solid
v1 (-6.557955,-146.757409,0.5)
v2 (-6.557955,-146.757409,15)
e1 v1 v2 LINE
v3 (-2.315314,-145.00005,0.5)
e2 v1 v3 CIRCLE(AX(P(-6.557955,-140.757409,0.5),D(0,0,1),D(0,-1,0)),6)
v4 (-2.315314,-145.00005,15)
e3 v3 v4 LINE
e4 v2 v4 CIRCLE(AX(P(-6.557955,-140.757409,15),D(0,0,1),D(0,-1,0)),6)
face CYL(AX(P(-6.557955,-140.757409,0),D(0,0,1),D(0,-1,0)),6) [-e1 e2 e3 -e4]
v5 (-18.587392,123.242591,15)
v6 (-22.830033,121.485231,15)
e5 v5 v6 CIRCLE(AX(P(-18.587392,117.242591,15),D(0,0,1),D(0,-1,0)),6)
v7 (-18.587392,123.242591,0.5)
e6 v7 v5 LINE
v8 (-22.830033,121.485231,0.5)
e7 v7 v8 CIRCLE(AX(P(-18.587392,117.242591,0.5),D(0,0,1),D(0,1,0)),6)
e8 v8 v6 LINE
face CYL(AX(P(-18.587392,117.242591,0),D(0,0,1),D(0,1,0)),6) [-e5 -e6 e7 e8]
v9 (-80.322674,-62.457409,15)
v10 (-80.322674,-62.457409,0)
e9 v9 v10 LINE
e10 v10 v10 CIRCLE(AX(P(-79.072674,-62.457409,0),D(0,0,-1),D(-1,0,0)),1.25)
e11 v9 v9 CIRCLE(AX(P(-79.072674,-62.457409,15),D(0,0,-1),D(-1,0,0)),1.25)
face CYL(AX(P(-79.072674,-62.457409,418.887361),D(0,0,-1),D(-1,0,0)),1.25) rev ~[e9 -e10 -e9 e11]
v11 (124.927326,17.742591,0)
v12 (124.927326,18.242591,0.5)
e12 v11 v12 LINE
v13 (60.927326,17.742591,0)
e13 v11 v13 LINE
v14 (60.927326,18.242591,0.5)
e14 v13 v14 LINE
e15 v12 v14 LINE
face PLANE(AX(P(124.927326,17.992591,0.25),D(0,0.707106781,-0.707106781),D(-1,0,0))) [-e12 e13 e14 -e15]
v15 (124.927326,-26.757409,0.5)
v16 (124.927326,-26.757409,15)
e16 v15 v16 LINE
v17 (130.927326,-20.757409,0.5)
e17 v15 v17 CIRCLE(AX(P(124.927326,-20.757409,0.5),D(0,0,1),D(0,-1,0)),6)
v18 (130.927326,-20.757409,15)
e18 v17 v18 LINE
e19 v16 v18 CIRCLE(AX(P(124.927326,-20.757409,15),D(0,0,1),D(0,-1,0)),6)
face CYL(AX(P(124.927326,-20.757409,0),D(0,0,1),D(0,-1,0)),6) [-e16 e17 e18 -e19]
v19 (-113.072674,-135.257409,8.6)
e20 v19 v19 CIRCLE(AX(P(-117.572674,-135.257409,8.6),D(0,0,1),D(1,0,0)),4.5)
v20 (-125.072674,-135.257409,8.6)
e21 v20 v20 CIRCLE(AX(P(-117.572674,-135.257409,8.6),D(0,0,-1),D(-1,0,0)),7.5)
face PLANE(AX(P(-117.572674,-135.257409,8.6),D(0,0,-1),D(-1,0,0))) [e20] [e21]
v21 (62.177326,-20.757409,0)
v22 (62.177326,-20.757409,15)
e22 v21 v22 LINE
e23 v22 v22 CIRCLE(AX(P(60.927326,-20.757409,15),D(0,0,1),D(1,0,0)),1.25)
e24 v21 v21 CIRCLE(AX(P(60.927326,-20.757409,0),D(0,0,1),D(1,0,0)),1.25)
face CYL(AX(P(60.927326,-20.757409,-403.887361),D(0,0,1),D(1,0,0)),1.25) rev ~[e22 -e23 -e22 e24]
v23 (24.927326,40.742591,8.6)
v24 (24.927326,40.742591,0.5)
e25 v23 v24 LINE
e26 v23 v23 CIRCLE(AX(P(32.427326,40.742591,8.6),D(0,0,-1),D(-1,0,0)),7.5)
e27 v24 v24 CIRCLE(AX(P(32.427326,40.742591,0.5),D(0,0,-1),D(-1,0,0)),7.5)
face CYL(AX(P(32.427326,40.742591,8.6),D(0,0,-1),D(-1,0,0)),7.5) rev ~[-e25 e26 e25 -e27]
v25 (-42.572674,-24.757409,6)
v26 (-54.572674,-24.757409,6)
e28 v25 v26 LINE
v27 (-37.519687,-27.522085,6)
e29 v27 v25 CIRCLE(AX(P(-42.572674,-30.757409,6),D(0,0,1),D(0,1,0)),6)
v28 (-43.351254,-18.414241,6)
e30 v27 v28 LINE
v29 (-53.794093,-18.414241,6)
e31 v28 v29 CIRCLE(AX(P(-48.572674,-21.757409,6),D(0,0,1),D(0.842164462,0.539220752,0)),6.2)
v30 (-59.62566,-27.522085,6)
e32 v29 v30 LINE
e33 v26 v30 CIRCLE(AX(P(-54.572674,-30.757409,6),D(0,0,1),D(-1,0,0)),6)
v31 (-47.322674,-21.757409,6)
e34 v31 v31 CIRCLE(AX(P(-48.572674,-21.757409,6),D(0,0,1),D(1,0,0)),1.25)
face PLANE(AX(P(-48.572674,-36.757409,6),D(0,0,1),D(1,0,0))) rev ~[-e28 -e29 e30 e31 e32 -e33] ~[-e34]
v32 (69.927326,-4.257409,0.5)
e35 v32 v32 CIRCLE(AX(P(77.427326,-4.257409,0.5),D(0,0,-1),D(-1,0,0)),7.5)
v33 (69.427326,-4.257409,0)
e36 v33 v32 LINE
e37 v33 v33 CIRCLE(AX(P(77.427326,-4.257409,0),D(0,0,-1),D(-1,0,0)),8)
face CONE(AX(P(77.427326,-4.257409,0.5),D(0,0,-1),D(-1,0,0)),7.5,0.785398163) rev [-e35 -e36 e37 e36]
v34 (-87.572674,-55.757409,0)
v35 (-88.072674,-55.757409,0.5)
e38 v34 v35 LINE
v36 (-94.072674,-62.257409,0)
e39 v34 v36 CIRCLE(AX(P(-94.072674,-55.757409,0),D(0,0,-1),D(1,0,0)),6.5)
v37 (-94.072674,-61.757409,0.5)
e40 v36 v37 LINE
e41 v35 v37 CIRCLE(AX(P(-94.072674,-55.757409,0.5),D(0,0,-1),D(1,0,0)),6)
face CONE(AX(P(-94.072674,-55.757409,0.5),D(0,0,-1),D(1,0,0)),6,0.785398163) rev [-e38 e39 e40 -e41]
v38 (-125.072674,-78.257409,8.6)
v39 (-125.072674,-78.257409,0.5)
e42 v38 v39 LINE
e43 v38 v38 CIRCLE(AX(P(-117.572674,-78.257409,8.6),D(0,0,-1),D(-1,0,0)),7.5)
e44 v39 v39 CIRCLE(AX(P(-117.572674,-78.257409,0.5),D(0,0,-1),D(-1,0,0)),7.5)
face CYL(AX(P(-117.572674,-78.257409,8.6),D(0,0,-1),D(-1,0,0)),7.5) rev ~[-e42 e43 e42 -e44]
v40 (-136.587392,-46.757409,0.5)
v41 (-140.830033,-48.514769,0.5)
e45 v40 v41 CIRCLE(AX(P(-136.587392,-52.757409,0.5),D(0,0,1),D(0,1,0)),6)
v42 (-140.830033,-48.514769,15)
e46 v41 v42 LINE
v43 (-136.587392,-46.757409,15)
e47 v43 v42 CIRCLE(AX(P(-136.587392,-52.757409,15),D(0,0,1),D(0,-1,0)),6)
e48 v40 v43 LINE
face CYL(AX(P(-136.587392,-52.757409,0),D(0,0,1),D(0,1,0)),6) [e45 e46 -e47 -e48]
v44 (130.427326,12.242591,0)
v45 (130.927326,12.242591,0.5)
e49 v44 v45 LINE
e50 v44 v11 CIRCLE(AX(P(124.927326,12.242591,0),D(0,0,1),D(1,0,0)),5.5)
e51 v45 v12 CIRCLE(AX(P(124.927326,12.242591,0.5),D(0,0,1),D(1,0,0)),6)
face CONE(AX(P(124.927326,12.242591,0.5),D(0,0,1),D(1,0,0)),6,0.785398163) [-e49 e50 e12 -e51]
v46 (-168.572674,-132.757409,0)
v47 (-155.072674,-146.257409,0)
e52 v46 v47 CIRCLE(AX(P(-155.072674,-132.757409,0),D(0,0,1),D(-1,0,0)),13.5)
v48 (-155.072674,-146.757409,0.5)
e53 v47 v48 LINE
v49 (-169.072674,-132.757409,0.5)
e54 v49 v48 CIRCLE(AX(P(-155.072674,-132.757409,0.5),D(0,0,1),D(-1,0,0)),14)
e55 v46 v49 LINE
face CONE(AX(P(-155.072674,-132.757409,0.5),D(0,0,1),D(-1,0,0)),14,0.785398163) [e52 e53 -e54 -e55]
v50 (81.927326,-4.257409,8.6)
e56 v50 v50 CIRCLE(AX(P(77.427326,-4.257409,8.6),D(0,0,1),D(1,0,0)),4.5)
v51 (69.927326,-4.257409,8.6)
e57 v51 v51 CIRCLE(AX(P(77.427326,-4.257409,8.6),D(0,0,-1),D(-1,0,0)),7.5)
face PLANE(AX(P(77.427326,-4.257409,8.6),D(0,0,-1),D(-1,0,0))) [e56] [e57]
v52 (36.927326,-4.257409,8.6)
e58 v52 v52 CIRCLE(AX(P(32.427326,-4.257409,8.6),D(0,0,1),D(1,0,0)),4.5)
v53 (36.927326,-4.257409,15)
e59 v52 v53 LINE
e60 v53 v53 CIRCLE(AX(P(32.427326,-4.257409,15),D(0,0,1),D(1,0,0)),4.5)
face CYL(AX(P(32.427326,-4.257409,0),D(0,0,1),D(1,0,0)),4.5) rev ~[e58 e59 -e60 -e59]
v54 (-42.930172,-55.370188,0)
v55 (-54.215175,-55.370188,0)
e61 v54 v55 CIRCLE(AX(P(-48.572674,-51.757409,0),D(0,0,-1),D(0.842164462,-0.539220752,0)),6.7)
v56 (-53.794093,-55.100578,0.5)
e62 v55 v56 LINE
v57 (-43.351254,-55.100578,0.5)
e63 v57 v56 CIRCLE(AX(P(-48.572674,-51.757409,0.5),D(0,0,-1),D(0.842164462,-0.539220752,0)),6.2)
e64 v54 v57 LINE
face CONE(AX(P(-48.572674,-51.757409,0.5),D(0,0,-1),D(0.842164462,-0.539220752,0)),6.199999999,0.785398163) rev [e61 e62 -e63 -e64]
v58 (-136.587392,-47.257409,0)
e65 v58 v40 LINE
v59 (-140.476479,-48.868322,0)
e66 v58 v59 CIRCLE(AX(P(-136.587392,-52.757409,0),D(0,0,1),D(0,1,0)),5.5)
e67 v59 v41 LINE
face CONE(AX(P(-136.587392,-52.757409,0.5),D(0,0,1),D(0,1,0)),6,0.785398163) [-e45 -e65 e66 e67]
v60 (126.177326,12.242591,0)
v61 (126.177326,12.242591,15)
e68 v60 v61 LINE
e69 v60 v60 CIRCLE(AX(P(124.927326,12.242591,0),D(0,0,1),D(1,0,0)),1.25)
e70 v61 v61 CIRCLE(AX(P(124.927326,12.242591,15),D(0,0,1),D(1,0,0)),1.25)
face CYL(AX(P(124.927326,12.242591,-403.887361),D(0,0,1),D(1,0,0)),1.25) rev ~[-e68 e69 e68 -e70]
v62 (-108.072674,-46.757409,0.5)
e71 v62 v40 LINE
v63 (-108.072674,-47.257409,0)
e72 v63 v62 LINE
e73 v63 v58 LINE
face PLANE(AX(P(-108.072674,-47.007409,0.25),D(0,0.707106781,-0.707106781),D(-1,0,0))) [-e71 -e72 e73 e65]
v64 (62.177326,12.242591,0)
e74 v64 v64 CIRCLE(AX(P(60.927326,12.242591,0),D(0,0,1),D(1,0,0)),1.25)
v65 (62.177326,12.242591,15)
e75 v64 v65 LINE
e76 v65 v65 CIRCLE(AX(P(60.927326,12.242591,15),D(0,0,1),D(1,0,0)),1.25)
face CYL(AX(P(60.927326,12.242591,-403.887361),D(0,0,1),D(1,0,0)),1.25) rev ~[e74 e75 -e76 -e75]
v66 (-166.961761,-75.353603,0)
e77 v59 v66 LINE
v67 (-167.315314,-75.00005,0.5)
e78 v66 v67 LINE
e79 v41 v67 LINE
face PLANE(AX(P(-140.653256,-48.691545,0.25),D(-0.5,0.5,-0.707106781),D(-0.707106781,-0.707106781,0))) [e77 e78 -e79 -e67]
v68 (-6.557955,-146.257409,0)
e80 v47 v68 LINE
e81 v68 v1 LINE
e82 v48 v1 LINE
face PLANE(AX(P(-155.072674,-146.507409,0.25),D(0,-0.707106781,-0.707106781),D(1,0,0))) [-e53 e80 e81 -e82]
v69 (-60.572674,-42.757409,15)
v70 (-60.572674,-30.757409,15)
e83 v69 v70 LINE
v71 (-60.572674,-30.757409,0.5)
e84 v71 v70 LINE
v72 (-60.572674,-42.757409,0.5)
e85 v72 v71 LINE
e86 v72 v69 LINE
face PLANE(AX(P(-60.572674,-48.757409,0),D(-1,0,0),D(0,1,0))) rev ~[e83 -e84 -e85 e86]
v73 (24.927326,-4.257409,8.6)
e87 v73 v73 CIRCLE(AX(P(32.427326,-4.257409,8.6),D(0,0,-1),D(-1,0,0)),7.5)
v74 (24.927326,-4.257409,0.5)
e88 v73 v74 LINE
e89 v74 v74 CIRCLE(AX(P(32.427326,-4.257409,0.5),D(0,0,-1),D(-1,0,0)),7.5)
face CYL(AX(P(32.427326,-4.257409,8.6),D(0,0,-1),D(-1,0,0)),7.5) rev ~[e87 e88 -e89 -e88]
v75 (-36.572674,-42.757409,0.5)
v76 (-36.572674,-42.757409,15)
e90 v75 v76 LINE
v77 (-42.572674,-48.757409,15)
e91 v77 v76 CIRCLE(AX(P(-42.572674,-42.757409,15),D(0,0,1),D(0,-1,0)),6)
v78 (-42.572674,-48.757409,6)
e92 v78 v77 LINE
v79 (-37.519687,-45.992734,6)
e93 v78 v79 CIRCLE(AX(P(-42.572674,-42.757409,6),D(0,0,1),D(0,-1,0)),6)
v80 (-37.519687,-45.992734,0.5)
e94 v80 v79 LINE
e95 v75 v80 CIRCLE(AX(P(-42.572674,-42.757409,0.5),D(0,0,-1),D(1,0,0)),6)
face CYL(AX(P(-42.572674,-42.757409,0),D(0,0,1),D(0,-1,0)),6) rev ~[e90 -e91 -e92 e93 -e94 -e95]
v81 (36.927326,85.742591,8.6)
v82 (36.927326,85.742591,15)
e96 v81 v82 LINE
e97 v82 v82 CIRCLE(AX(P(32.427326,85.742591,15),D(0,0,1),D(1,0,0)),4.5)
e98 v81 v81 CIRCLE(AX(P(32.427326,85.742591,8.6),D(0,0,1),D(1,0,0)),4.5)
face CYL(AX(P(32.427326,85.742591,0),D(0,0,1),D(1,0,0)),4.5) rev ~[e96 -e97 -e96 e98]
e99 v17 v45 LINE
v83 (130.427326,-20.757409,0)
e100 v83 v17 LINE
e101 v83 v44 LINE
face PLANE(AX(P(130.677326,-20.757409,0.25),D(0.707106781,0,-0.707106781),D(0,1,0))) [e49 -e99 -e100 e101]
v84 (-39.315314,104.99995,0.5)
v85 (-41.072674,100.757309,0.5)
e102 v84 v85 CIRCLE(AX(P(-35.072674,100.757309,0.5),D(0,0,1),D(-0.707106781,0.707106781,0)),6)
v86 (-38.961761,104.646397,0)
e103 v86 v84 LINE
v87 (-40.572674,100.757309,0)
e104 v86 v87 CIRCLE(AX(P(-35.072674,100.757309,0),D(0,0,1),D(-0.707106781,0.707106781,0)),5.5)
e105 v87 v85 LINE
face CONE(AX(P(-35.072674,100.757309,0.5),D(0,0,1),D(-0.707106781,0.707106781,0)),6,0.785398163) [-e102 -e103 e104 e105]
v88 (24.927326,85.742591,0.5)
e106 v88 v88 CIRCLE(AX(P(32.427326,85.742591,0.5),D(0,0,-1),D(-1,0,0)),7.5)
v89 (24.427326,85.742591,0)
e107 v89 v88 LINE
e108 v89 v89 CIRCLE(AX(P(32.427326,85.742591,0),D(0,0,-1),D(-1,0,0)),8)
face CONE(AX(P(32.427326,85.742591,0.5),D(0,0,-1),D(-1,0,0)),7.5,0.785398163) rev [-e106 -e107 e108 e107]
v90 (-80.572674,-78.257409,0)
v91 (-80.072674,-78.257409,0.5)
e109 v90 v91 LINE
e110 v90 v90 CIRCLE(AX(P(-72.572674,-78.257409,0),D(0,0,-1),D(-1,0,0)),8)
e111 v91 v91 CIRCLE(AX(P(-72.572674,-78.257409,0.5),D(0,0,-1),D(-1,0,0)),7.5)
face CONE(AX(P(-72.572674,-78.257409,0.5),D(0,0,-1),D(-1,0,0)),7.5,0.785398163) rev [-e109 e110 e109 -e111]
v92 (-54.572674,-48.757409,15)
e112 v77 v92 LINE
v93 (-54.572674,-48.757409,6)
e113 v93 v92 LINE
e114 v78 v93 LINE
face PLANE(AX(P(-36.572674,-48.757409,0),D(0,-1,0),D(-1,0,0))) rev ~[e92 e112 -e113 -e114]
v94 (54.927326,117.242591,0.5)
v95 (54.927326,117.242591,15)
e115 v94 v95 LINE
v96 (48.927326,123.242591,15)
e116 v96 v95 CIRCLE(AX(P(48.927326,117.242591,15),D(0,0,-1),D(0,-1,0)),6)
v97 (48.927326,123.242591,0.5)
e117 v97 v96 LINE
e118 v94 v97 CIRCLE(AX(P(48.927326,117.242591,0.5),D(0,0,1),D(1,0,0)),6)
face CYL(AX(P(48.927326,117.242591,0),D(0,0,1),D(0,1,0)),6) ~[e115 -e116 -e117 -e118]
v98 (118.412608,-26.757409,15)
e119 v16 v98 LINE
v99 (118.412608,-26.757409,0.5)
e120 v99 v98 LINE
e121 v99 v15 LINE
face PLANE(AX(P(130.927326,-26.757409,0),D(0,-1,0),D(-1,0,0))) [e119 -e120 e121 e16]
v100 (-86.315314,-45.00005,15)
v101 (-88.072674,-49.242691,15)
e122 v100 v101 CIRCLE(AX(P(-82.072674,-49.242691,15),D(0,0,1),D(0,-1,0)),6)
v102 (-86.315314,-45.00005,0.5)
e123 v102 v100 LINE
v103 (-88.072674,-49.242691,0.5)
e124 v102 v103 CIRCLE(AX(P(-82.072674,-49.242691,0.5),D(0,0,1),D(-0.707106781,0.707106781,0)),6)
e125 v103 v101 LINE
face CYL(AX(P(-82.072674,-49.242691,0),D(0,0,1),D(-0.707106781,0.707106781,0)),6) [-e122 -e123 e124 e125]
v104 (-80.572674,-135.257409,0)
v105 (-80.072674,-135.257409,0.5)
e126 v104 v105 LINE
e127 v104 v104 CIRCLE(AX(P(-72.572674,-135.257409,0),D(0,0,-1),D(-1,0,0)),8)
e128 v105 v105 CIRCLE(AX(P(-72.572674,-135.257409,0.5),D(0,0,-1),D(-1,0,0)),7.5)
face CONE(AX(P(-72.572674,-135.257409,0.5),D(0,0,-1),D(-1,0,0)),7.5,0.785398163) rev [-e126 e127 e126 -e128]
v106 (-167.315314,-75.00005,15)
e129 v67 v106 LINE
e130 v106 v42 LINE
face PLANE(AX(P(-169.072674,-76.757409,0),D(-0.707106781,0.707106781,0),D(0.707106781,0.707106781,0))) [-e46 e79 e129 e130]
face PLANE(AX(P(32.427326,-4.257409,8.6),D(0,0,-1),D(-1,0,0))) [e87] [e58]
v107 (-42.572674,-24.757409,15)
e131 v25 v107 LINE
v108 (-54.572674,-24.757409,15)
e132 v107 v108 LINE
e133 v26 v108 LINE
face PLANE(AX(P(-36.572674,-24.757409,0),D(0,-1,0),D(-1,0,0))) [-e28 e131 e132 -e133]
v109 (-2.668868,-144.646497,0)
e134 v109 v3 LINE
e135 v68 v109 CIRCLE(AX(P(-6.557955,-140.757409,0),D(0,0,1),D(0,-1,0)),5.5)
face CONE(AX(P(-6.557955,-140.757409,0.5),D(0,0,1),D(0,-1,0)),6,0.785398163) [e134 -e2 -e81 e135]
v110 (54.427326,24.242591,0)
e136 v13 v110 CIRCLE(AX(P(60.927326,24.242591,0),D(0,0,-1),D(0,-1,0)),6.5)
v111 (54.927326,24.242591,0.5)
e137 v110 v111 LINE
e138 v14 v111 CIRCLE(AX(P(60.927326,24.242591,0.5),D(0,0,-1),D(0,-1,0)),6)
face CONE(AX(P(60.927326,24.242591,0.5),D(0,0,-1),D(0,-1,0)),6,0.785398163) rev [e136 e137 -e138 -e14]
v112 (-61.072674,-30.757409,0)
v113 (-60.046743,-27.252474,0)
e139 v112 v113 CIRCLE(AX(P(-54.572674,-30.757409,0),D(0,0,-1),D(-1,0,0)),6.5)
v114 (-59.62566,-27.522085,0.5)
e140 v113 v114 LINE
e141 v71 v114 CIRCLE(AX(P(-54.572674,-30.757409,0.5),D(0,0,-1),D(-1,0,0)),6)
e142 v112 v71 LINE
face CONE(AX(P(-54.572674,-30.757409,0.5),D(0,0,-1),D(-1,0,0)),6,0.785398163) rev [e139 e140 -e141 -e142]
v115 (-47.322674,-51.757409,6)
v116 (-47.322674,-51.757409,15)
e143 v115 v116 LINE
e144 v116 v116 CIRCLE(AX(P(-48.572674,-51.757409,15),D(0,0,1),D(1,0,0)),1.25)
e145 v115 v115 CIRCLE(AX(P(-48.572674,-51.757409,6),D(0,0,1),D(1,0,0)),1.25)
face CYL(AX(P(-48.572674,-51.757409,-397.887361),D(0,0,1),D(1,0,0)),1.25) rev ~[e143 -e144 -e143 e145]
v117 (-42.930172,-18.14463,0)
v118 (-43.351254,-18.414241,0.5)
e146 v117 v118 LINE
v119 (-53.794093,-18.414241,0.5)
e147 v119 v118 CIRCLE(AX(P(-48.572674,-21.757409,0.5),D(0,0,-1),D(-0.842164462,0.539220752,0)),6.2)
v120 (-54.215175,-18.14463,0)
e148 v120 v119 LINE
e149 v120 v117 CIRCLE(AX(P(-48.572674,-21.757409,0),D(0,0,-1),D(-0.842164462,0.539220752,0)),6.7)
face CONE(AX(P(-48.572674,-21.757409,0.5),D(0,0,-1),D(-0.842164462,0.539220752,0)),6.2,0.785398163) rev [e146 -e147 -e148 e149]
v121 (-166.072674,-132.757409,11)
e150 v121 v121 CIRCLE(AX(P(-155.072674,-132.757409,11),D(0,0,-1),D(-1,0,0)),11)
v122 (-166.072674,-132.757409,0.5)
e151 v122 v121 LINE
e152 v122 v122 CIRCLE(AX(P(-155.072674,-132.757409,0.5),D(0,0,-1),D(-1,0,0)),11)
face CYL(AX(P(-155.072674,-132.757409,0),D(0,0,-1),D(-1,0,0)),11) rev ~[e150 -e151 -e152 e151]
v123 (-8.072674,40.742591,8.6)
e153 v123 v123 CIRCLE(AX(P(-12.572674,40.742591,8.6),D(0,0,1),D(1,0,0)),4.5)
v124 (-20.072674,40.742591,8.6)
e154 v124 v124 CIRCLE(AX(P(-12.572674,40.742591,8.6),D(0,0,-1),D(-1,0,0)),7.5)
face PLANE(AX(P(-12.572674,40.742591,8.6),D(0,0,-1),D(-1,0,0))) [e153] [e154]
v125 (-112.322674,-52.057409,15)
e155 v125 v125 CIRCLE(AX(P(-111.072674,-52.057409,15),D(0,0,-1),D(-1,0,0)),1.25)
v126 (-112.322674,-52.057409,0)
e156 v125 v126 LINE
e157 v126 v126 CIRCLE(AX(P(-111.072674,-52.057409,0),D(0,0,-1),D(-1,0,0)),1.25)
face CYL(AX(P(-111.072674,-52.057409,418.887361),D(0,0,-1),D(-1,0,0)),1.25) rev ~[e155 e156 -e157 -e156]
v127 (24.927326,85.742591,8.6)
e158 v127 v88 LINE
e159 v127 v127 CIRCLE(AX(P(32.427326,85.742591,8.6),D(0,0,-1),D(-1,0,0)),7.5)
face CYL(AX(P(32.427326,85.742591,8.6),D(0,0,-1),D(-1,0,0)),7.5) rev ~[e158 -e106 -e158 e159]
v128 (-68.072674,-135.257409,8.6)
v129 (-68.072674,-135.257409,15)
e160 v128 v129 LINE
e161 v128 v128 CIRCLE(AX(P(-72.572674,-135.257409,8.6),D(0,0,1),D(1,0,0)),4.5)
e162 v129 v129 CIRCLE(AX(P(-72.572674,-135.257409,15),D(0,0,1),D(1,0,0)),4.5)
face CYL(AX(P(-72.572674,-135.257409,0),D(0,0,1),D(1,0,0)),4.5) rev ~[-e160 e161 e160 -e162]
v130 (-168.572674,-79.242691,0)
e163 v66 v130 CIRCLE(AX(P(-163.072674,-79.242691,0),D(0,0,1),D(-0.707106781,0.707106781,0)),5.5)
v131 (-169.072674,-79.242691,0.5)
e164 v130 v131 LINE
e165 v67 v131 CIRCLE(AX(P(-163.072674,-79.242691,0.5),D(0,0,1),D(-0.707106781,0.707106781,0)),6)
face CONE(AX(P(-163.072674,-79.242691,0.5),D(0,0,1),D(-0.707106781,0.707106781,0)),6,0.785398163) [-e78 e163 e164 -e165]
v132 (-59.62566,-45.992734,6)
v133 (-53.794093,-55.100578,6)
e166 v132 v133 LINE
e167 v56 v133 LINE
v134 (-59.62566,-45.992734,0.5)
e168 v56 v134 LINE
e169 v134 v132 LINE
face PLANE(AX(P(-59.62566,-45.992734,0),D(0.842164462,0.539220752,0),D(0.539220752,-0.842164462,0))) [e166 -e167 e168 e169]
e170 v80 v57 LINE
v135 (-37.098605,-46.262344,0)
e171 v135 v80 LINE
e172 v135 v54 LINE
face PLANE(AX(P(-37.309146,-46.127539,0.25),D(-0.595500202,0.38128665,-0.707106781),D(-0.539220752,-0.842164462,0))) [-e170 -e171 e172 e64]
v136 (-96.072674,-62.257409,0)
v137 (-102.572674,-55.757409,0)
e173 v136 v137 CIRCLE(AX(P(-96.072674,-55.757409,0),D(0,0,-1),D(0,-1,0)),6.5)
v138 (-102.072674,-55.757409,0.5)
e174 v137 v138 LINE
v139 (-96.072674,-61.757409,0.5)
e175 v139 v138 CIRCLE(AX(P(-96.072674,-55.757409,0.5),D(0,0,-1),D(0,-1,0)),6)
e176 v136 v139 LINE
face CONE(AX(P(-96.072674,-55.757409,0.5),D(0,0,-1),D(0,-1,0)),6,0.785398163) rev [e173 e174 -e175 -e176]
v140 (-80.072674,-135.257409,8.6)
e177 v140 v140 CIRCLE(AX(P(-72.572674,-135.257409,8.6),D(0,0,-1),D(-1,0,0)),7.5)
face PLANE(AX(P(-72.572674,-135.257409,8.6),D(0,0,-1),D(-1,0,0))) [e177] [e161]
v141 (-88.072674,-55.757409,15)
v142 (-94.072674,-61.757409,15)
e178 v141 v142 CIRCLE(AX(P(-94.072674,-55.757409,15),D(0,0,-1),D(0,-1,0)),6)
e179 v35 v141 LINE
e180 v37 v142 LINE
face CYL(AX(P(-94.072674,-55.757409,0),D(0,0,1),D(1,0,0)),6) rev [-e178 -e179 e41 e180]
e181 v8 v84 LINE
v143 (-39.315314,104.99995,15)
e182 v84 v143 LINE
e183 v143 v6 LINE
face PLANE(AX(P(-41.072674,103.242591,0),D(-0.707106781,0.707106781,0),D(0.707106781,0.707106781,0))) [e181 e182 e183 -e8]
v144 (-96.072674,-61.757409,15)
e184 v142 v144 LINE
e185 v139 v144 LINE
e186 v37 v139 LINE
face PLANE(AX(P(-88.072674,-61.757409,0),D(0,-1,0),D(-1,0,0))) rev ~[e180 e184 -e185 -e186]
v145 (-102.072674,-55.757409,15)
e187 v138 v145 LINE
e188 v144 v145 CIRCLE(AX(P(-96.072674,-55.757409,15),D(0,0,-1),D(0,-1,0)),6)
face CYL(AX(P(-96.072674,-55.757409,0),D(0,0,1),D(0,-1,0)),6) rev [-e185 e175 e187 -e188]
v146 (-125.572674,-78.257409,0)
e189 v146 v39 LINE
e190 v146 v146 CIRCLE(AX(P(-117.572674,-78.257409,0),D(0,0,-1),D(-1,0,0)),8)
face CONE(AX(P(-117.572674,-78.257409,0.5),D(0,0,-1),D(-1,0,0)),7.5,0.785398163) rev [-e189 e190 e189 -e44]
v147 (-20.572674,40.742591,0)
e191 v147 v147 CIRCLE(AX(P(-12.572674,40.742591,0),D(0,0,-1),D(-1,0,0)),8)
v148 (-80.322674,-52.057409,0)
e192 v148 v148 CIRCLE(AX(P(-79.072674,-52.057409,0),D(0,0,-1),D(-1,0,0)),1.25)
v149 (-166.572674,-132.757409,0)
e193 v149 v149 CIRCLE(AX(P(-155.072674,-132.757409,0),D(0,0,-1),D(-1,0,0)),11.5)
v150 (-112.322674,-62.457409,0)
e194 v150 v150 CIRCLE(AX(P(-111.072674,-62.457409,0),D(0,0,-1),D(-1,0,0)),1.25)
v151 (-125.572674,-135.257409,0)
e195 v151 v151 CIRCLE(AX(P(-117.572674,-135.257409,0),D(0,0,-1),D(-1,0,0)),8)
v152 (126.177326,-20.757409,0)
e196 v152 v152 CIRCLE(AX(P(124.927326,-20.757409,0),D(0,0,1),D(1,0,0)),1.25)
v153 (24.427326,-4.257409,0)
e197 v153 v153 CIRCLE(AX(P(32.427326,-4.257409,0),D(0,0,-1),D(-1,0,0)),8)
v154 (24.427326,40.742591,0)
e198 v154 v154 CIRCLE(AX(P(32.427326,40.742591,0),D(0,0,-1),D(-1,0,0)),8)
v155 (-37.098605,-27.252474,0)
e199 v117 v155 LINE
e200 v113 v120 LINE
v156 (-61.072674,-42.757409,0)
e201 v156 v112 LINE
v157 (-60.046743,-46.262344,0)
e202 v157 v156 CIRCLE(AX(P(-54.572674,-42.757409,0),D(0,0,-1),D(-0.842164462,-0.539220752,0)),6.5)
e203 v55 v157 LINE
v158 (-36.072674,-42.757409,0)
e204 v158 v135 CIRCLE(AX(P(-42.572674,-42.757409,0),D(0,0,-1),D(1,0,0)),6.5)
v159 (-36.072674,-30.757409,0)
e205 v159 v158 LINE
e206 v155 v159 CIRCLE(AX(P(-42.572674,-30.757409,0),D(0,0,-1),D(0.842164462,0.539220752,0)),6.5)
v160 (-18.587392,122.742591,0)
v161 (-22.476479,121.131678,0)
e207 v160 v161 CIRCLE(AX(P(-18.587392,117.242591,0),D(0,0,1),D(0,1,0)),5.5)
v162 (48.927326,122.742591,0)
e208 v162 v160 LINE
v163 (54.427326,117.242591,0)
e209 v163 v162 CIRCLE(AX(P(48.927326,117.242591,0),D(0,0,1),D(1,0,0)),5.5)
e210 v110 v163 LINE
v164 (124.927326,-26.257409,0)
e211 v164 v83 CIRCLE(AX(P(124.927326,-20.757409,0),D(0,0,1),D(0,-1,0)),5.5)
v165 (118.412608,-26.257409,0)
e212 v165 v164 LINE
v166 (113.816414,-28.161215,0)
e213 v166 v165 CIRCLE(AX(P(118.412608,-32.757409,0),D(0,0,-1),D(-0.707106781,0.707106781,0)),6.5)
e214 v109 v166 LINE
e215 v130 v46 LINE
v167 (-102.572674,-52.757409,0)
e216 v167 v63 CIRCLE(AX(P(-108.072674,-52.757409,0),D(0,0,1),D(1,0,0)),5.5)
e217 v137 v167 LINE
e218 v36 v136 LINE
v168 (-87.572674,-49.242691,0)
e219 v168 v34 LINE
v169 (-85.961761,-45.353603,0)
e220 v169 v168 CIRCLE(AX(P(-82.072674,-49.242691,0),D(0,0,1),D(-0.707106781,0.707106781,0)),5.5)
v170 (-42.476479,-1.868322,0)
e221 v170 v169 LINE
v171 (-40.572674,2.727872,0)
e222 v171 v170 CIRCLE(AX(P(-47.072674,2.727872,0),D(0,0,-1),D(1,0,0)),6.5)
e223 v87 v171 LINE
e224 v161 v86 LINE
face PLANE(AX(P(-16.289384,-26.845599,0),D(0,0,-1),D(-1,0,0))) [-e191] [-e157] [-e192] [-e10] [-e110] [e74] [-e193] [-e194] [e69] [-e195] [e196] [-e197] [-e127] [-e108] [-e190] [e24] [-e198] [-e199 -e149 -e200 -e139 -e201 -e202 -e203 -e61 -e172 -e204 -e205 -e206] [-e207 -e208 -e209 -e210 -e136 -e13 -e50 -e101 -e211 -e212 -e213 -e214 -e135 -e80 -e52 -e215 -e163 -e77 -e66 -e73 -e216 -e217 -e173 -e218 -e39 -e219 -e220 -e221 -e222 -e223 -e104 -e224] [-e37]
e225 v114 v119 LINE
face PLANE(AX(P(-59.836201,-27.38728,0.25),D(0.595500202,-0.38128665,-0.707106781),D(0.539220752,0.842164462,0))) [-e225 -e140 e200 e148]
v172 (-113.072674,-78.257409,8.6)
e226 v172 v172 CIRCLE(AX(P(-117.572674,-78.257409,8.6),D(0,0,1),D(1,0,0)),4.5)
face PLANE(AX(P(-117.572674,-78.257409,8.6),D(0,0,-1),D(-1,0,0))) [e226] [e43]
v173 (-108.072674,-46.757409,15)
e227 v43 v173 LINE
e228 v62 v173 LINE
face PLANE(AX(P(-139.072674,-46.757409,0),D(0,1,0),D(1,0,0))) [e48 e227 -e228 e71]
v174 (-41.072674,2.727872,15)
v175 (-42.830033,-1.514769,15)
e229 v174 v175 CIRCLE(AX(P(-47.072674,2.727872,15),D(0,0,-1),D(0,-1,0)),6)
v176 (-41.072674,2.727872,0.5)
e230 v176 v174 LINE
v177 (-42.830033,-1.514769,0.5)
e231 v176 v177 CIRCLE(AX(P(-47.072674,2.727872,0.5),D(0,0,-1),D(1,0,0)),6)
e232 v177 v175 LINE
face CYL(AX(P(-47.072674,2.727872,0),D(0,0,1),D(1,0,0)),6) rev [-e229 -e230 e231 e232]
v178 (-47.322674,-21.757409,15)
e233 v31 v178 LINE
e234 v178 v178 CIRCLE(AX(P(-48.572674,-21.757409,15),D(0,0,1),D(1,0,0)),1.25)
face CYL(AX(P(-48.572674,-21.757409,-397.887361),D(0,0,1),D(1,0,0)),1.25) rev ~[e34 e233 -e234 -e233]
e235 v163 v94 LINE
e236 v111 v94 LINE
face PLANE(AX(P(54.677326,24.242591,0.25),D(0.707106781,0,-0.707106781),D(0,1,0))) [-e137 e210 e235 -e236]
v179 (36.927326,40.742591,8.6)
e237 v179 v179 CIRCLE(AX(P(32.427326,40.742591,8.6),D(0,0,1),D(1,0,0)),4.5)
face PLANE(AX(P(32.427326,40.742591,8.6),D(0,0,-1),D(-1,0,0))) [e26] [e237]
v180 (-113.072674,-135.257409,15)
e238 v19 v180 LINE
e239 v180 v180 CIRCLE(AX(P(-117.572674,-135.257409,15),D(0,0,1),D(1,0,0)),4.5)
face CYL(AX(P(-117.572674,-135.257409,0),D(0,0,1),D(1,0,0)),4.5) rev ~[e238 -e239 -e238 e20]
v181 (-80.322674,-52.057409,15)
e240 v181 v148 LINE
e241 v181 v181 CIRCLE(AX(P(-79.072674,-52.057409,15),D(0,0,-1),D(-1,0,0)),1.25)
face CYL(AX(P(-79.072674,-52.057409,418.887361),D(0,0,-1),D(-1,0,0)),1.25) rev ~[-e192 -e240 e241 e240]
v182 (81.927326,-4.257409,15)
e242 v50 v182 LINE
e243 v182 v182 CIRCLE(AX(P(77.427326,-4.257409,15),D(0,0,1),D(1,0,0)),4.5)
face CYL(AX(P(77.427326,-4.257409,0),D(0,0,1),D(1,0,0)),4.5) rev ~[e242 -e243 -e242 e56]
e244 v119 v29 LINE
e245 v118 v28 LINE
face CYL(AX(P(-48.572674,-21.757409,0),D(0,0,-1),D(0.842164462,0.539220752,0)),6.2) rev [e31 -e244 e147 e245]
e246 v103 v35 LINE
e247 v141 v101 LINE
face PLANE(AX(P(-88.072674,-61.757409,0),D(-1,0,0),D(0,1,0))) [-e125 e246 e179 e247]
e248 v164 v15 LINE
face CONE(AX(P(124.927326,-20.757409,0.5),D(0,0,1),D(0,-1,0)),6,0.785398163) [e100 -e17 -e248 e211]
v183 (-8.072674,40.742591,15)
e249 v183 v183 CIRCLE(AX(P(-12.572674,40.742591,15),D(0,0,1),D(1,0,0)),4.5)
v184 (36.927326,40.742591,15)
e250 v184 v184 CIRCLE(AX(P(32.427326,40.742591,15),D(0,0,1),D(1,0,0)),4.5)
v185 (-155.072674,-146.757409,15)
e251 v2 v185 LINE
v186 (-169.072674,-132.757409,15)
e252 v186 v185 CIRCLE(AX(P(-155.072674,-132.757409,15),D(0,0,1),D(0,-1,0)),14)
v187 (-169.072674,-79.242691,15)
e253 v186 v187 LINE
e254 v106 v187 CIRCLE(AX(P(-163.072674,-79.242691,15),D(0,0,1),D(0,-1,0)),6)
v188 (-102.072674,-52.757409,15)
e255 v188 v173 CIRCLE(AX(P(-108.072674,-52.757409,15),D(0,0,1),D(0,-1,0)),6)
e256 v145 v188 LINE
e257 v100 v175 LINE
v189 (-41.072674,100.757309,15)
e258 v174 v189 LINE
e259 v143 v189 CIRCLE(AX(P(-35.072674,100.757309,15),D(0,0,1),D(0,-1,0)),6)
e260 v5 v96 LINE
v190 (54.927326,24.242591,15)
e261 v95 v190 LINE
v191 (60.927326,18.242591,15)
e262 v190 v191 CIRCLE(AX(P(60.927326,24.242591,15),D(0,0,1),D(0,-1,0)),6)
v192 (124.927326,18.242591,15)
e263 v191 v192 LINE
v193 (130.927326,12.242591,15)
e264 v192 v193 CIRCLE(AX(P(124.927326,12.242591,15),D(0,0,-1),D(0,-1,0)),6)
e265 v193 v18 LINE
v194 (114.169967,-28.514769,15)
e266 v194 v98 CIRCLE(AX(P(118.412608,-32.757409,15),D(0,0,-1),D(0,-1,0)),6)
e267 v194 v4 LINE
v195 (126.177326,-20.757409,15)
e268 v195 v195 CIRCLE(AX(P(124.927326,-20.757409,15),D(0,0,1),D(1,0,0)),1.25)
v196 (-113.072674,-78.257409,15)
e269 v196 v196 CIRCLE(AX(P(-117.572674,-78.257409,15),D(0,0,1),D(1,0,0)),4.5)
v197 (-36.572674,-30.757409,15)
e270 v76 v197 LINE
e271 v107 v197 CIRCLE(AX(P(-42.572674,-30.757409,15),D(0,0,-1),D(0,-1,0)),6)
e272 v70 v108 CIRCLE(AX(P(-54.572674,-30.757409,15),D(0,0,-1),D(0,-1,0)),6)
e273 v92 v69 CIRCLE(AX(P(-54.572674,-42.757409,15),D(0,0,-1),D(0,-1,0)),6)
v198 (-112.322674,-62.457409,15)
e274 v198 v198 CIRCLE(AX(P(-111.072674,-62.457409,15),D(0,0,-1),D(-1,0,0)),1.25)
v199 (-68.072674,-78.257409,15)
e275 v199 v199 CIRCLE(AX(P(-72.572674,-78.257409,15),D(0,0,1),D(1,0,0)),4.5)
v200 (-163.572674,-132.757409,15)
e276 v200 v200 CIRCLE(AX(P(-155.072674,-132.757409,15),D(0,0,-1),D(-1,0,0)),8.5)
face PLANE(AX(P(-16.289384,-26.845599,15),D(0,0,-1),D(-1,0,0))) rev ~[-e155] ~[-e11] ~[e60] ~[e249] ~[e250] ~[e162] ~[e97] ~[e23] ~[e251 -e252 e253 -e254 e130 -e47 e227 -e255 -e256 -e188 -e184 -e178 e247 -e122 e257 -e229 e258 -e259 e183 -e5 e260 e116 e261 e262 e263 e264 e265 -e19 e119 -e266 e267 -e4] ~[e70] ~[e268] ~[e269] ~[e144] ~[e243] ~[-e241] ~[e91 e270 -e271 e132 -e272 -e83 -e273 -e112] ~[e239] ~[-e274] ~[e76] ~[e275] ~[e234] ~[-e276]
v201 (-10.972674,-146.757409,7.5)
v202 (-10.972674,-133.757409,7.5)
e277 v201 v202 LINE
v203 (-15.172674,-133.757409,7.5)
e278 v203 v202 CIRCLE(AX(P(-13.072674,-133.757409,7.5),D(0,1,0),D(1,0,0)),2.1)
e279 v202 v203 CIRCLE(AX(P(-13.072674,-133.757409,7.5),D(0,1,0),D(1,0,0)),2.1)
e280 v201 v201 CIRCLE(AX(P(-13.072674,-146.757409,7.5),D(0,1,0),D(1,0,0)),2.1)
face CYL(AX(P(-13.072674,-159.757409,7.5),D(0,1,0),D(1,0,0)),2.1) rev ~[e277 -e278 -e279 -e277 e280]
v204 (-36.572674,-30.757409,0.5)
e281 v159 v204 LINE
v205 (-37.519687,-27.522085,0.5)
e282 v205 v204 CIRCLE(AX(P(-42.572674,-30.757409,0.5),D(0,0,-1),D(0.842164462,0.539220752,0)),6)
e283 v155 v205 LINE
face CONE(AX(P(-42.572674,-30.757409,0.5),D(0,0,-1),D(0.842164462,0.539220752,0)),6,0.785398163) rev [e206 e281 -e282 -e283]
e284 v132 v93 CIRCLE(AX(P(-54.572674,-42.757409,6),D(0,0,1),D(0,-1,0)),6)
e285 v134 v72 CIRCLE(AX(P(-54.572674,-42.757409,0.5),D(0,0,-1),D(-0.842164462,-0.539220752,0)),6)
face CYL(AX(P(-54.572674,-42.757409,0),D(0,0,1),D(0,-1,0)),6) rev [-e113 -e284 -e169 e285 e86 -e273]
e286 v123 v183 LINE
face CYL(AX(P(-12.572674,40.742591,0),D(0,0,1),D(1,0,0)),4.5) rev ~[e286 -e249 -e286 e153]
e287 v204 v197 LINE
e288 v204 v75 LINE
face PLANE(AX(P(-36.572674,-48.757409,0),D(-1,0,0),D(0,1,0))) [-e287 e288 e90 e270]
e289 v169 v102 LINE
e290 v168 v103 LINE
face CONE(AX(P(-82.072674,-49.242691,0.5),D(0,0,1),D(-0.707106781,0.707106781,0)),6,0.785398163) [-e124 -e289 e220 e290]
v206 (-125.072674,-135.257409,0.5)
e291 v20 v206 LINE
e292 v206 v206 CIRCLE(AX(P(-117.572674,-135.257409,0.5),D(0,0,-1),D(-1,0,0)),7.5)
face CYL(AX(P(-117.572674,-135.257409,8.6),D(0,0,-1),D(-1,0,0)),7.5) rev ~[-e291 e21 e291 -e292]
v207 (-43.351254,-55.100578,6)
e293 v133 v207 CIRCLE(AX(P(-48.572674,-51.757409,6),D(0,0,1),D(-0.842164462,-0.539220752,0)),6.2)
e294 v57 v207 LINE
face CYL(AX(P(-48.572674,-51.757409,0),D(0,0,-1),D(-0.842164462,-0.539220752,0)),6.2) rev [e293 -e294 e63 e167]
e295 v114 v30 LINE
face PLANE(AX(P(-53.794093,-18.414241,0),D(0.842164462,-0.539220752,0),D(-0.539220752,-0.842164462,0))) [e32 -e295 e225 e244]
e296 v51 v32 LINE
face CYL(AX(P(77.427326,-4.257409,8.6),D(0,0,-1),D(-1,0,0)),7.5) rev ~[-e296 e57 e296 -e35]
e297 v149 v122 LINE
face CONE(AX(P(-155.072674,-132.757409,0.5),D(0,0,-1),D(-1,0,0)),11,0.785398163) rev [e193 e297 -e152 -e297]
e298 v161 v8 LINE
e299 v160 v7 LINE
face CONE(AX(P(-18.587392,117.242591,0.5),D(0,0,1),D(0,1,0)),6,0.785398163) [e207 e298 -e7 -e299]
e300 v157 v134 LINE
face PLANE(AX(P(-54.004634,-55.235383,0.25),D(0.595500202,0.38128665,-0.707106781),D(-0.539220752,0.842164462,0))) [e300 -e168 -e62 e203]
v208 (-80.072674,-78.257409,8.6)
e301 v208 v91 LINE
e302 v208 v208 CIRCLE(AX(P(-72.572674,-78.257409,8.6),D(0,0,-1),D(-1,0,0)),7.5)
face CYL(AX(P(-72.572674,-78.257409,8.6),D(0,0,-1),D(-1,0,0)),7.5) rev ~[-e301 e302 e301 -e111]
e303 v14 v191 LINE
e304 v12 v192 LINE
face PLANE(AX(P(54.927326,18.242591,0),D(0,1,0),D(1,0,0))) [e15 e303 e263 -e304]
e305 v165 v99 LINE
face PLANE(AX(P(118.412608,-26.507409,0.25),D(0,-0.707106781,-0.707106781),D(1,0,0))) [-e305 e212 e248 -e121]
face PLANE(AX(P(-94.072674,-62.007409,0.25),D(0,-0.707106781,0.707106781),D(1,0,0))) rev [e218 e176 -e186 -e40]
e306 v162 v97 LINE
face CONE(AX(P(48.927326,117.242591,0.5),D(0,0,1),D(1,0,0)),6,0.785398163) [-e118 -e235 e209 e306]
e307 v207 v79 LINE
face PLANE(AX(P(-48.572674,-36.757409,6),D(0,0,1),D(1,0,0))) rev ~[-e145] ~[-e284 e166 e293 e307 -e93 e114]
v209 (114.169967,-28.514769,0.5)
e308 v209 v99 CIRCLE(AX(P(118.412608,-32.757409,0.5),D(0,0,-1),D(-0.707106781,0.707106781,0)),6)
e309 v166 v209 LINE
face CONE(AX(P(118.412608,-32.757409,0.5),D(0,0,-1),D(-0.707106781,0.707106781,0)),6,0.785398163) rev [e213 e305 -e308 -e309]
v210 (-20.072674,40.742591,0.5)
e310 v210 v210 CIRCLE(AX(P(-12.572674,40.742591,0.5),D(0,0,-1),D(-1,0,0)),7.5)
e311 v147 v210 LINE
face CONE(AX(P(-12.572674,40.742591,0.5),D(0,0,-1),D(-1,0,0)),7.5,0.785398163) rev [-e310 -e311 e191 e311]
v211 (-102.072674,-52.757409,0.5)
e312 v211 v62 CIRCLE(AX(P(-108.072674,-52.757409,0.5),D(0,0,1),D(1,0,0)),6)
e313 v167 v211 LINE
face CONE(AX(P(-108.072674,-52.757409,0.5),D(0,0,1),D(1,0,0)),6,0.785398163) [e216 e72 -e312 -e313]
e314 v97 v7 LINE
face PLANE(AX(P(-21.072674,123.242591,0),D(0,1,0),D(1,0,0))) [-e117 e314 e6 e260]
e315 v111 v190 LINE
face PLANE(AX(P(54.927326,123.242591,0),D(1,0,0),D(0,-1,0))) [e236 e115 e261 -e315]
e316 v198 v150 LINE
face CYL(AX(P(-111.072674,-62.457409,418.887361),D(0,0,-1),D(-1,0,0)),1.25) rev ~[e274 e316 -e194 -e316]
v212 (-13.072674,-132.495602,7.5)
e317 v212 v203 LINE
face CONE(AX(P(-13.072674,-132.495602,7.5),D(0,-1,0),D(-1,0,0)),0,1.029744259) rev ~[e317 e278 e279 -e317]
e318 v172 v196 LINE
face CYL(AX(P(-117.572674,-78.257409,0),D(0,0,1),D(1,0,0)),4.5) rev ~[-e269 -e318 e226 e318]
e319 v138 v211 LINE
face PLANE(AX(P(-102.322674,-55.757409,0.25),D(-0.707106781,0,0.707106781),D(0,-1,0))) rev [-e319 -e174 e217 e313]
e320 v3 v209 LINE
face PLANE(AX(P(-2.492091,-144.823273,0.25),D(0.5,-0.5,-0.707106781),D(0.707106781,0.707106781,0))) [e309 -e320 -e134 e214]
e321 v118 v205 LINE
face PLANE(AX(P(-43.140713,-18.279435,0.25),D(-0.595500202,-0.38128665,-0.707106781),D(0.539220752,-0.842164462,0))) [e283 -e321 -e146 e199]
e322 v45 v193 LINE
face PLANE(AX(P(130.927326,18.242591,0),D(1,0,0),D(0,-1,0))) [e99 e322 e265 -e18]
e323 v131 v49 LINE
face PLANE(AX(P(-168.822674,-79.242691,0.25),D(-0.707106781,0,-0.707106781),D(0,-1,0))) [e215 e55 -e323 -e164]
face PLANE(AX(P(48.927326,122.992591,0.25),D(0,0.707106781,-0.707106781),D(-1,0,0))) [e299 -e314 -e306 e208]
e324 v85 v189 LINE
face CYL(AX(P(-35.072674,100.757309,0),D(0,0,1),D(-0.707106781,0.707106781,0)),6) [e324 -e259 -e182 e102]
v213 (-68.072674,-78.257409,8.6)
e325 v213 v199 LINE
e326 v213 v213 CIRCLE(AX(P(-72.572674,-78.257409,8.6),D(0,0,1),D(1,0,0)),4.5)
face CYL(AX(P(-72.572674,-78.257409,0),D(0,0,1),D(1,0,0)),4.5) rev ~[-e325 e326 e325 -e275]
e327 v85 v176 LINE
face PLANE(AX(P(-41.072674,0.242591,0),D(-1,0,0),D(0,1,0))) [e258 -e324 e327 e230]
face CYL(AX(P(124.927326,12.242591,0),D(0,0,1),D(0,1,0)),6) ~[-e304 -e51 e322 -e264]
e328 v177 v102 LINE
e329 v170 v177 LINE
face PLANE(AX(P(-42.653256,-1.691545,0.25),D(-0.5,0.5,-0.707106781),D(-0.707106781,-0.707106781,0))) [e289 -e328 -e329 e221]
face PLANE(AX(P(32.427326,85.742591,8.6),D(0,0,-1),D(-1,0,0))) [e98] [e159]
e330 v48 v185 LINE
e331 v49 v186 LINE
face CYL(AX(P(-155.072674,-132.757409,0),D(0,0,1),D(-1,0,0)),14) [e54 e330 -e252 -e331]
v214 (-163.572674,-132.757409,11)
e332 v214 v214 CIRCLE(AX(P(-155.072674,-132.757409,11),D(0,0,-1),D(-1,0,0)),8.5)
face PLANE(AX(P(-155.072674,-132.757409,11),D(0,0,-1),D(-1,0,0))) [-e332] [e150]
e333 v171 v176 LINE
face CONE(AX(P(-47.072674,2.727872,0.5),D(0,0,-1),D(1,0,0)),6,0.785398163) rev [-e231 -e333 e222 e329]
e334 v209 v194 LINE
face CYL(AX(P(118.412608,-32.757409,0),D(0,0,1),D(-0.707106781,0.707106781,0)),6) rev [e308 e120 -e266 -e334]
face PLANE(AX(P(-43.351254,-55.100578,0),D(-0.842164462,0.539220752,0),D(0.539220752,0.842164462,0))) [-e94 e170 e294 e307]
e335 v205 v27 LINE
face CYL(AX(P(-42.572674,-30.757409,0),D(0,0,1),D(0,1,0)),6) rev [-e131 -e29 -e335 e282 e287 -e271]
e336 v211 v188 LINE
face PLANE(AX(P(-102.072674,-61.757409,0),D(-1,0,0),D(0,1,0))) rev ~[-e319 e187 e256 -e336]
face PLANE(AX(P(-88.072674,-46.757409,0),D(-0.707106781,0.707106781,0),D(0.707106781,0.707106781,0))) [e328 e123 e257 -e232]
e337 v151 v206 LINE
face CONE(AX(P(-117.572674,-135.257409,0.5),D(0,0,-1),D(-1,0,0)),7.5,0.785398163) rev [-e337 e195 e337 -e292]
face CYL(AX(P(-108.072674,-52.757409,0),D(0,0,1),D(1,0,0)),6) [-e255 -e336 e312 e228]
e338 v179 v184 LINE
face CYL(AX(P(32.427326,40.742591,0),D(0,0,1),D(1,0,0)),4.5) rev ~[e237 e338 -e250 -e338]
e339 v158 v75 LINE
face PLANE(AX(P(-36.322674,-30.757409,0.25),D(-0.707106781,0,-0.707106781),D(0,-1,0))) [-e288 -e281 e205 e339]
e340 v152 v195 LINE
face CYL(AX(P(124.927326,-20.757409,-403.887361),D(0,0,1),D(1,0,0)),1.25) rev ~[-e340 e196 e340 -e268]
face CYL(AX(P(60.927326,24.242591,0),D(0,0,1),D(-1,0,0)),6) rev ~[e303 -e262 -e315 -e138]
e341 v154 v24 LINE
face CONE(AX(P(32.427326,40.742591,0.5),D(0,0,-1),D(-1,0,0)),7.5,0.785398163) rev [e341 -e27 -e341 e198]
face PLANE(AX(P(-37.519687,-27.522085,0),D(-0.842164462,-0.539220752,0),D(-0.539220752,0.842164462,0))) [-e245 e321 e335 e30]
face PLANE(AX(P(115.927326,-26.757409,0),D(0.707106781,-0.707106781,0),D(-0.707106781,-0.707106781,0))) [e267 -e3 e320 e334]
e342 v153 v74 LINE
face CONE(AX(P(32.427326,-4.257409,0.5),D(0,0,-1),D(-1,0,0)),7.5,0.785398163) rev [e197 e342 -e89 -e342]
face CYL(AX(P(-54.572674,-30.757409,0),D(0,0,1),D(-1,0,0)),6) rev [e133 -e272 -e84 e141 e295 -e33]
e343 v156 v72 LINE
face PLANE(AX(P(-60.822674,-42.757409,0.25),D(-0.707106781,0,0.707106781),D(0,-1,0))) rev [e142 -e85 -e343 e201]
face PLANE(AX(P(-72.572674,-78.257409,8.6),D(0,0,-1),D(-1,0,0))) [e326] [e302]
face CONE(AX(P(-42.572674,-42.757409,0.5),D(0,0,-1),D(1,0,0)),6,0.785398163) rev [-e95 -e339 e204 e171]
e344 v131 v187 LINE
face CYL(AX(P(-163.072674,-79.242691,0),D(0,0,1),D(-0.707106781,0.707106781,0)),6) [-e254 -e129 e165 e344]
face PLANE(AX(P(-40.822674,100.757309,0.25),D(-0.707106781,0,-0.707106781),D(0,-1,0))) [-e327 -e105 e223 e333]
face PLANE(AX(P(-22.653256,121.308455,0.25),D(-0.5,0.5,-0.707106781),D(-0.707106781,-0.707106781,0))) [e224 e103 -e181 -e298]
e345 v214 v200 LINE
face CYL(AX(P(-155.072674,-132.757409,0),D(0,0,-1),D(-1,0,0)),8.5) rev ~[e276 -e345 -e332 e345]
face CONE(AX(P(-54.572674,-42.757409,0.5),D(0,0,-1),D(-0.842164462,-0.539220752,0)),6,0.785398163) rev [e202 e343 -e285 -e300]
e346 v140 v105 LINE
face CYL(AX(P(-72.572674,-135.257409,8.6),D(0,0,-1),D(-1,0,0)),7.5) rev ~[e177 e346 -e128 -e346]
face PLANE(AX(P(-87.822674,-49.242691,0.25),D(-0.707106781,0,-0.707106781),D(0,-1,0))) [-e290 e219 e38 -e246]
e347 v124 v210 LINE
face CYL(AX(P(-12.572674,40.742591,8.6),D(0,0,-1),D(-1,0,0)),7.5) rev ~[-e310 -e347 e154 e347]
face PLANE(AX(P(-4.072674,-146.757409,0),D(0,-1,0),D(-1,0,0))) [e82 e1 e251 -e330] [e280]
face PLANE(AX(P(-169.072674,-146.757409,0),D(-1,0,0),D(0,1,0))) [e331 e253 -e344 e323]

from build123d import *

# Parameters (mm, degrees)
BOSS_EXTRU_1_DEPTH                                 = 15
CHAMBRAGE_POUR_VIS_T_TE_HEXAGONALE_M81_D           = 9
CHAMBRAGE_POUR_VIS_T_TE_HEXAGONALE_M81_CBORE_D     = 15
CHAMBRAGE_POUR_VIS_T_TE_HEXAGONALE_M81_CBORE_DEPTH = 8.6
TAP_DRILL_FOR_M5_TAP1_D                            = 4.2
TAP_DRILL_FOR_M5_TAP1_DEPTH                        = 13
TAP_DRILL_FOR_M5_TAP1_TIP                          = 1.2618073
SKETCH25_W                                         = 14
SKETCH25_H                                         = 15
CUT_EXTRUDE6_DEPTH                                 = 16
CONG_1_R                                           = 6
SKETCH11_R                                         = 8.5
CUT_EXTRUDE1_DEPTH                                 = 16
SKETCH12_R                                         = 11
CUT_EXTRUDE2_DEPTH                                 = 11
SKETCH13_W                                         = 24
SKETCH13_H                                         = 24
CUT_EXTRUDE3_DEPTH                                 = 16
FILLET1_R                                          = 6
CUT_EXTRUDE4_DEPTH                                 = 6
FILLET3_R                                          = 14
TAP_DRILL_FOR_M3_TAP1_D                            = 2.5
CHAMFER1_SIZE                                      = 0.5
TAP_DRILL_FOR_M3_TAP2_D                            = 2.5
TAP_DRILL_FOR_M3_TAP3_D                            = 2.5


with BuildPart() as part:
    # Esquisse1 → Boss.-Extru.1 (new body)
    with BuildSketch(Plane.XY):
        Polygon((-21.072673536, 123.242590707), (54.927326464, 123.242590707), (54.927326464, 18.242590707), (130.927326464, 18.242590707), (130.927326464, -26.757409293), (115.927326464, -26.757409293), (-4.072673536, -146.757409293), (-169.072673536, -146.757409293), (-169.072673536, -76.757409293), (-139.072673536, -46.757409293), (-88.072673536, -46.757409293), (-41.072673536, 0.242590707), (-41.072673536, 103.242590707), align=None)
    extrude(amount=BOSS_EXTRU_1_DEPTH)

    # Chambrage pour vis à tête hexagonale M81 (through all)
    with Locations(Plane(origin=(0, 0, 0), x_dir=(-1, 0, 0), z_dir=(0, 0, -1))):
        with Locations((72.572673536, -78.257409293), (117.572673536, -78.257409293), (72.572673536, -135.257409293), (117.572673536, -135.257409293), (-32.427326464, 85.742590707), (-32.427326464, 40.742590707), (-32.427326464, -4.257409293), (-77.427326464, -4.257409293), (12.572673536, 40.742590707)):
            CounterBoreHole(CHAMBRAGE_POUR_VIS_T_TE_HEXAGONALE_M81_D / 2, CHAMBRAGE_POUR_VIS_T_TE_HEXAGONALE_M81_CBORE_D / 2, CHAMBRAGE_POUR_VIS_T_TE_HEXAGONALE_M81_CBORE_DEPTH)

    # Tap Drill for M5 Tap1
    with Locations(Plane(origin=(0, -146.757409293, 0), x_dir=(-1, 0, 0), z_dir=(0, -1, 0))):
        with Locations((13.072673536, -7.5)):
            Hole(TAP_DRILL_FOR_M5_TAP1_D / 2, depth=TAP_DRILL_FOR_M5_TAP1_DEPTH)
            with Locations((0, 0, -(TAP_DRILL_FOR_M5_TAP1_DEPTH + TAP_DRILL_FOR_M5_TAP1_TIP / 2))):  # 118° drill point
                Cone(0, TAP_DRILL_FOR_M5_TAP1_D / 2, TAP_DRILL_FOR_M5_TAP1_TIP, mode=Mode.SUBTRACT)

    # Sketch25 → Cut-Extrude6 (cut, through all)
    with BuildSketch(Plane(origin=(0, 0, 0), x_dir=(-1, 0, 0), z_dir=(0, 0, -1))):
        with Locations((95.072673536, -54.257409293)):
            Rectangle(SKETCH25_W, SKETCH25_H)
    extrude(amount=-CUT_EXTRUDE6_DEPTH, mode=Mode.SUBTRACT)

    # Congé1
    cong_1_edges = [part.edges().sort_by_distance(p)[0] for p in [
        (-88.072673536, -61.757409293, 7.5),
        (-102.072673536, -46.757409293, 7.5),
        (-102.072673536, -61.757409293, 7.5),
        (54.927326464, 18.242590707, 7.5),
        (130.927326464, 18.242590707, 7.5),
        (130.927326464, -26.757409293, 7.5),
        (115.927326464, -26.757409293, 7.5),
        (-4.072673536, -146.757409293, 7.5),
        (-169.072673536, -76.757409293, 7.5),
        (-139.072673536, -46.757409293, 7.5),
        (-88.072673536, -46.757409293, 7.5),
        (-41.072673536, 0.242590707, 7.5),
        (-41.072673536, 103.242590707, 7.5),
        (-21.072673536, 123.242590707, 7.5),
        (54.927326464, 123.242590707, 7.5),
    ]]
    fillet(cong_1_edges, radius=CONG_1_R)

    # Sketch11 → Cut-Extrude1 (cut, through all)
    with BuildSketch(Plane(origin=(0, 0, 0), x_dir=(-1, 0, 0), z_dir=(0, 0, -1))):
        with Locations((155.072673536, -132.757409293)):
            Circle(SKETCH11_R)
    extrude(amount=-CUT_EXTRUDE1_DEPTH, mode=Mode.SUBTRACT)

    # Sketch12 → Cut-Extrude2 (cut)
    with BuildSketch(Plane(origin=(0, 0, 0), x_dir=(-1, 0, 0), z_dir=(0, 0, -1))):
        with Locations((155.072673536, -132.757409293)):
            Circle(SKETCH12_R)
    extrude(amount=-CUT_EXTRUDE2_DEPTH, mode=Mode.SUBTRACT)

    # Sketch13 → Cut-Extrude3 (cut, through all)
    with BuildSketch(Plane(origin=(0, 0, 0), x_dir=(-1, 0, 0), z_dir=(0, 0, -1))):
        with Locations((48.572673536, -36.757409293)):
            Rectangle(SKETCH13_W, SKETCH13_H)
    extrude(amount=-CUT_EXTRUDE3_DEPTH, mode=Mode.SUBTRACT)

    # Fillet1
    fillet1_edges = [part.edges().sort_by_distance(p)[0] for p in [
        (-36.572673536, -48.757409293, 7.5),
        (-36.572673536, -24.757409293, 7.5),
        (-60.572673536, -24.757409293, 7.5),
        (-60.572673536, -48.757409293, 7.5),
    ]]
    fillet(fillet1_edges, radius=FILLET1_R)

    # Sketch14 → Cut-Extrude4 (cut)
    with BuildSketch(Plane(origin=(0, 0, 0), x_dir=(-1, 0, 0), z_dir=(0, 0, -1))):
        with BuildLine():
            Line((53.794093198, -18.414240629), (59.625660306, -27.52208478))
            ThreePointArc((59.625660306, -27.52208478), (60.33105528, -29.071870895), (60.572673536, -30.757409293))
            Line((60.572673536, -30.757409293), (60.572673536, -42.757409293))
            ThreePointArc((60.572673536, -42.757409293), (60.33105528, -44.442947691), (59.625660306, -45.992733806))
            Line((59.625660306, -45.992733806), (53.794093198, -55.100577956))
            ThreePointArc((53.794093198, -55.100577956), (48.572673536, -57.957409293), (43.351253874, -55.100577956))
            Line((43.351253874, -55.100577956), (37.519686767, -45.992733806))
            ThreePointArc((37.519686767, -45.992733806), (36.814291792, -44.442947691), (36.572673536, -42.757409293))
            Line((36.572673536, -42.757409293), (36.572673536, -30.757409293))
            ThreePointArc((36.572673536, -30.757409293), (36.814291792, -29.071870895), (37.519686767, -27.52208478))
            Line((37.519686767, -27.52208478), (43.351253874, -18.414240629))
            ThreePointArc((43.351253874, -18.414240629), (48.572673536, -15.557409293), (53.794093198, -18.414240629))
        make_face()
    extrude(amount=-CUT_EXTRUDE4_DEPTH, mode=Mode.SUBTRACT)

    # Fillet3
    fillet3_edges = [part.edges().sort_by_distance(p)[0] for p in [
        (-169.072673536, -146.757409293, 7.5),
    ]]
    fillet(fillet3_edges, radius=FILLET3_R)

    # Tap Drill for M3 Tap1 (through all)
    with Locations(Plane(origin=(0, 0, 6), x_dir=(-1, 0, 0), z_dir=(0, 0, -1))):
        with Locations((48.572673536, -21.757409293), (48.572673536, -51.757409293)):
            Hole(TAP_DRILL_FOR_M3_TAP1_D / 2)

    # Chamfer1
    chamfer1_edges = [part.edges().sort_by_distance(p)[0] for p in [
        (-102.072673536, -54.257409293, 0),
        (-95.072673536, -61.757409293, 0),
        (-88.072673536, -52.50004998, 0),
        (-122.330032849, -46.757409293, 0),
        (-64.572673536, -23.257409293, 0),
        (-41.072673536, 51.742590707, 0),
        (-31.072673536, 113.242590707, 0),
        (15.169967151, 123.242590707, 0),
        (54.927326464, 70.742590707, 0),
        (92.927326464, 18.242590707, 0),
        (130.927326464, -4.257409293, 0),
        (121.669967151, -26.757409293, 0),
        (55.927326464, -86.757409293, 0),
        (-169.072673536, -106.00004998, 0),
        (-154.072673536, -61.757409293, 0),
        (53.169967151, 121.485231394, 0),
        (-20.883492756, 122.785867902, 0),
        (-138.883492756, -47.214132098, 0),
        (-168.615950731, -76.946590073, 0),
        (-40.615950731, 103.053409927, 0),
        (129.169967151, 16.485231394, 0),
        (129.169967151, -25.00004998, 0),
        (-4.261854316, -146.300686488, 0),
        (-87.615950731, -46.946590073, 0),
        (-103.830032849, -48.514768606, 0),
        (-100.315314223, -60.00004998, 0),
        (-89.830032849, -60.00004998, 0),
        (116.116507244, -27.214132098, 0),
        (-41.529396341, 0.431771487, 0),
        (56.684685777, 19.99995002, 0),
        (-144.072673536, -132.757409293, 0),
        (-60.572673536, -36.757409293, 0),
        (-36.572673536, -36.757409293, 0),
        (-60.33105528, -44.442947691, 0),
        (-36.814291792, -29.071870895, 0),
        (-60.33105528, -29.071870895, 0),
        (-36.814291792, -44.442947691, 0),
        (-56.709876752, -50.546655881, 0),
        (-40.43547032, -50.546655881, 0),
        (-48.572673536, -57.957409293, 0),
        (-40.43547032, -22.968162704, 0),
        (-56.709876752, -22.968162704, 0),
        (-48.572673536, -15.557409293, 0),
        (-80.815314223, -146.757409293, 0),
        (-164.972168473, -142.656904229, 0),
        (-5.072673536, 40.742590707, 0),
        (84.927326464, -4.257409293, 0),
        (39.927326464, -4.257409293, 0),
        (39.927326464, 40.742590707, 0),
        (39.927326464, 85.742590707, 0),
        (-110.072673536, -135.257409293, 0),
        (-65.072673536, -135.257409293, 0),
        (-110.072673536, -78.257409293, 0),
        (-65.072673536, -78.257409293, 0),
    ]]
    chamfer(chamfer1_edges, length=CHAMFER1_SIZE)

    # Tap Drill for M3 Tap2 (through all)
    with Locations(Plane(origin=(0, 0, 0), x_dir=(-1, 0, 0), z_dir=(0, 0, -1))):
        with Locations((-124.927326464, 12.242590707), (-124.927326464, -20.757409293), (-60.927326464, 12.242590707), (-60.927326464, -20.757409293)):
            Hole(TAP_DRILL_FOR_M3_TAP2_D / 2)

    # Tap Drill for M3 Tap3 (through all)
    with Locations(Plane.XY.offset(15)):
        with Locations((-111.072673536, -52.057409293), (-111.072673536, -62.457409293), (-79.072673536, -62.457409293), (-79.072673536, -52.057409293)):
            Hole(TAP_DRILL_FOR_M3_TAP3_D / 2)


solid = part.part
